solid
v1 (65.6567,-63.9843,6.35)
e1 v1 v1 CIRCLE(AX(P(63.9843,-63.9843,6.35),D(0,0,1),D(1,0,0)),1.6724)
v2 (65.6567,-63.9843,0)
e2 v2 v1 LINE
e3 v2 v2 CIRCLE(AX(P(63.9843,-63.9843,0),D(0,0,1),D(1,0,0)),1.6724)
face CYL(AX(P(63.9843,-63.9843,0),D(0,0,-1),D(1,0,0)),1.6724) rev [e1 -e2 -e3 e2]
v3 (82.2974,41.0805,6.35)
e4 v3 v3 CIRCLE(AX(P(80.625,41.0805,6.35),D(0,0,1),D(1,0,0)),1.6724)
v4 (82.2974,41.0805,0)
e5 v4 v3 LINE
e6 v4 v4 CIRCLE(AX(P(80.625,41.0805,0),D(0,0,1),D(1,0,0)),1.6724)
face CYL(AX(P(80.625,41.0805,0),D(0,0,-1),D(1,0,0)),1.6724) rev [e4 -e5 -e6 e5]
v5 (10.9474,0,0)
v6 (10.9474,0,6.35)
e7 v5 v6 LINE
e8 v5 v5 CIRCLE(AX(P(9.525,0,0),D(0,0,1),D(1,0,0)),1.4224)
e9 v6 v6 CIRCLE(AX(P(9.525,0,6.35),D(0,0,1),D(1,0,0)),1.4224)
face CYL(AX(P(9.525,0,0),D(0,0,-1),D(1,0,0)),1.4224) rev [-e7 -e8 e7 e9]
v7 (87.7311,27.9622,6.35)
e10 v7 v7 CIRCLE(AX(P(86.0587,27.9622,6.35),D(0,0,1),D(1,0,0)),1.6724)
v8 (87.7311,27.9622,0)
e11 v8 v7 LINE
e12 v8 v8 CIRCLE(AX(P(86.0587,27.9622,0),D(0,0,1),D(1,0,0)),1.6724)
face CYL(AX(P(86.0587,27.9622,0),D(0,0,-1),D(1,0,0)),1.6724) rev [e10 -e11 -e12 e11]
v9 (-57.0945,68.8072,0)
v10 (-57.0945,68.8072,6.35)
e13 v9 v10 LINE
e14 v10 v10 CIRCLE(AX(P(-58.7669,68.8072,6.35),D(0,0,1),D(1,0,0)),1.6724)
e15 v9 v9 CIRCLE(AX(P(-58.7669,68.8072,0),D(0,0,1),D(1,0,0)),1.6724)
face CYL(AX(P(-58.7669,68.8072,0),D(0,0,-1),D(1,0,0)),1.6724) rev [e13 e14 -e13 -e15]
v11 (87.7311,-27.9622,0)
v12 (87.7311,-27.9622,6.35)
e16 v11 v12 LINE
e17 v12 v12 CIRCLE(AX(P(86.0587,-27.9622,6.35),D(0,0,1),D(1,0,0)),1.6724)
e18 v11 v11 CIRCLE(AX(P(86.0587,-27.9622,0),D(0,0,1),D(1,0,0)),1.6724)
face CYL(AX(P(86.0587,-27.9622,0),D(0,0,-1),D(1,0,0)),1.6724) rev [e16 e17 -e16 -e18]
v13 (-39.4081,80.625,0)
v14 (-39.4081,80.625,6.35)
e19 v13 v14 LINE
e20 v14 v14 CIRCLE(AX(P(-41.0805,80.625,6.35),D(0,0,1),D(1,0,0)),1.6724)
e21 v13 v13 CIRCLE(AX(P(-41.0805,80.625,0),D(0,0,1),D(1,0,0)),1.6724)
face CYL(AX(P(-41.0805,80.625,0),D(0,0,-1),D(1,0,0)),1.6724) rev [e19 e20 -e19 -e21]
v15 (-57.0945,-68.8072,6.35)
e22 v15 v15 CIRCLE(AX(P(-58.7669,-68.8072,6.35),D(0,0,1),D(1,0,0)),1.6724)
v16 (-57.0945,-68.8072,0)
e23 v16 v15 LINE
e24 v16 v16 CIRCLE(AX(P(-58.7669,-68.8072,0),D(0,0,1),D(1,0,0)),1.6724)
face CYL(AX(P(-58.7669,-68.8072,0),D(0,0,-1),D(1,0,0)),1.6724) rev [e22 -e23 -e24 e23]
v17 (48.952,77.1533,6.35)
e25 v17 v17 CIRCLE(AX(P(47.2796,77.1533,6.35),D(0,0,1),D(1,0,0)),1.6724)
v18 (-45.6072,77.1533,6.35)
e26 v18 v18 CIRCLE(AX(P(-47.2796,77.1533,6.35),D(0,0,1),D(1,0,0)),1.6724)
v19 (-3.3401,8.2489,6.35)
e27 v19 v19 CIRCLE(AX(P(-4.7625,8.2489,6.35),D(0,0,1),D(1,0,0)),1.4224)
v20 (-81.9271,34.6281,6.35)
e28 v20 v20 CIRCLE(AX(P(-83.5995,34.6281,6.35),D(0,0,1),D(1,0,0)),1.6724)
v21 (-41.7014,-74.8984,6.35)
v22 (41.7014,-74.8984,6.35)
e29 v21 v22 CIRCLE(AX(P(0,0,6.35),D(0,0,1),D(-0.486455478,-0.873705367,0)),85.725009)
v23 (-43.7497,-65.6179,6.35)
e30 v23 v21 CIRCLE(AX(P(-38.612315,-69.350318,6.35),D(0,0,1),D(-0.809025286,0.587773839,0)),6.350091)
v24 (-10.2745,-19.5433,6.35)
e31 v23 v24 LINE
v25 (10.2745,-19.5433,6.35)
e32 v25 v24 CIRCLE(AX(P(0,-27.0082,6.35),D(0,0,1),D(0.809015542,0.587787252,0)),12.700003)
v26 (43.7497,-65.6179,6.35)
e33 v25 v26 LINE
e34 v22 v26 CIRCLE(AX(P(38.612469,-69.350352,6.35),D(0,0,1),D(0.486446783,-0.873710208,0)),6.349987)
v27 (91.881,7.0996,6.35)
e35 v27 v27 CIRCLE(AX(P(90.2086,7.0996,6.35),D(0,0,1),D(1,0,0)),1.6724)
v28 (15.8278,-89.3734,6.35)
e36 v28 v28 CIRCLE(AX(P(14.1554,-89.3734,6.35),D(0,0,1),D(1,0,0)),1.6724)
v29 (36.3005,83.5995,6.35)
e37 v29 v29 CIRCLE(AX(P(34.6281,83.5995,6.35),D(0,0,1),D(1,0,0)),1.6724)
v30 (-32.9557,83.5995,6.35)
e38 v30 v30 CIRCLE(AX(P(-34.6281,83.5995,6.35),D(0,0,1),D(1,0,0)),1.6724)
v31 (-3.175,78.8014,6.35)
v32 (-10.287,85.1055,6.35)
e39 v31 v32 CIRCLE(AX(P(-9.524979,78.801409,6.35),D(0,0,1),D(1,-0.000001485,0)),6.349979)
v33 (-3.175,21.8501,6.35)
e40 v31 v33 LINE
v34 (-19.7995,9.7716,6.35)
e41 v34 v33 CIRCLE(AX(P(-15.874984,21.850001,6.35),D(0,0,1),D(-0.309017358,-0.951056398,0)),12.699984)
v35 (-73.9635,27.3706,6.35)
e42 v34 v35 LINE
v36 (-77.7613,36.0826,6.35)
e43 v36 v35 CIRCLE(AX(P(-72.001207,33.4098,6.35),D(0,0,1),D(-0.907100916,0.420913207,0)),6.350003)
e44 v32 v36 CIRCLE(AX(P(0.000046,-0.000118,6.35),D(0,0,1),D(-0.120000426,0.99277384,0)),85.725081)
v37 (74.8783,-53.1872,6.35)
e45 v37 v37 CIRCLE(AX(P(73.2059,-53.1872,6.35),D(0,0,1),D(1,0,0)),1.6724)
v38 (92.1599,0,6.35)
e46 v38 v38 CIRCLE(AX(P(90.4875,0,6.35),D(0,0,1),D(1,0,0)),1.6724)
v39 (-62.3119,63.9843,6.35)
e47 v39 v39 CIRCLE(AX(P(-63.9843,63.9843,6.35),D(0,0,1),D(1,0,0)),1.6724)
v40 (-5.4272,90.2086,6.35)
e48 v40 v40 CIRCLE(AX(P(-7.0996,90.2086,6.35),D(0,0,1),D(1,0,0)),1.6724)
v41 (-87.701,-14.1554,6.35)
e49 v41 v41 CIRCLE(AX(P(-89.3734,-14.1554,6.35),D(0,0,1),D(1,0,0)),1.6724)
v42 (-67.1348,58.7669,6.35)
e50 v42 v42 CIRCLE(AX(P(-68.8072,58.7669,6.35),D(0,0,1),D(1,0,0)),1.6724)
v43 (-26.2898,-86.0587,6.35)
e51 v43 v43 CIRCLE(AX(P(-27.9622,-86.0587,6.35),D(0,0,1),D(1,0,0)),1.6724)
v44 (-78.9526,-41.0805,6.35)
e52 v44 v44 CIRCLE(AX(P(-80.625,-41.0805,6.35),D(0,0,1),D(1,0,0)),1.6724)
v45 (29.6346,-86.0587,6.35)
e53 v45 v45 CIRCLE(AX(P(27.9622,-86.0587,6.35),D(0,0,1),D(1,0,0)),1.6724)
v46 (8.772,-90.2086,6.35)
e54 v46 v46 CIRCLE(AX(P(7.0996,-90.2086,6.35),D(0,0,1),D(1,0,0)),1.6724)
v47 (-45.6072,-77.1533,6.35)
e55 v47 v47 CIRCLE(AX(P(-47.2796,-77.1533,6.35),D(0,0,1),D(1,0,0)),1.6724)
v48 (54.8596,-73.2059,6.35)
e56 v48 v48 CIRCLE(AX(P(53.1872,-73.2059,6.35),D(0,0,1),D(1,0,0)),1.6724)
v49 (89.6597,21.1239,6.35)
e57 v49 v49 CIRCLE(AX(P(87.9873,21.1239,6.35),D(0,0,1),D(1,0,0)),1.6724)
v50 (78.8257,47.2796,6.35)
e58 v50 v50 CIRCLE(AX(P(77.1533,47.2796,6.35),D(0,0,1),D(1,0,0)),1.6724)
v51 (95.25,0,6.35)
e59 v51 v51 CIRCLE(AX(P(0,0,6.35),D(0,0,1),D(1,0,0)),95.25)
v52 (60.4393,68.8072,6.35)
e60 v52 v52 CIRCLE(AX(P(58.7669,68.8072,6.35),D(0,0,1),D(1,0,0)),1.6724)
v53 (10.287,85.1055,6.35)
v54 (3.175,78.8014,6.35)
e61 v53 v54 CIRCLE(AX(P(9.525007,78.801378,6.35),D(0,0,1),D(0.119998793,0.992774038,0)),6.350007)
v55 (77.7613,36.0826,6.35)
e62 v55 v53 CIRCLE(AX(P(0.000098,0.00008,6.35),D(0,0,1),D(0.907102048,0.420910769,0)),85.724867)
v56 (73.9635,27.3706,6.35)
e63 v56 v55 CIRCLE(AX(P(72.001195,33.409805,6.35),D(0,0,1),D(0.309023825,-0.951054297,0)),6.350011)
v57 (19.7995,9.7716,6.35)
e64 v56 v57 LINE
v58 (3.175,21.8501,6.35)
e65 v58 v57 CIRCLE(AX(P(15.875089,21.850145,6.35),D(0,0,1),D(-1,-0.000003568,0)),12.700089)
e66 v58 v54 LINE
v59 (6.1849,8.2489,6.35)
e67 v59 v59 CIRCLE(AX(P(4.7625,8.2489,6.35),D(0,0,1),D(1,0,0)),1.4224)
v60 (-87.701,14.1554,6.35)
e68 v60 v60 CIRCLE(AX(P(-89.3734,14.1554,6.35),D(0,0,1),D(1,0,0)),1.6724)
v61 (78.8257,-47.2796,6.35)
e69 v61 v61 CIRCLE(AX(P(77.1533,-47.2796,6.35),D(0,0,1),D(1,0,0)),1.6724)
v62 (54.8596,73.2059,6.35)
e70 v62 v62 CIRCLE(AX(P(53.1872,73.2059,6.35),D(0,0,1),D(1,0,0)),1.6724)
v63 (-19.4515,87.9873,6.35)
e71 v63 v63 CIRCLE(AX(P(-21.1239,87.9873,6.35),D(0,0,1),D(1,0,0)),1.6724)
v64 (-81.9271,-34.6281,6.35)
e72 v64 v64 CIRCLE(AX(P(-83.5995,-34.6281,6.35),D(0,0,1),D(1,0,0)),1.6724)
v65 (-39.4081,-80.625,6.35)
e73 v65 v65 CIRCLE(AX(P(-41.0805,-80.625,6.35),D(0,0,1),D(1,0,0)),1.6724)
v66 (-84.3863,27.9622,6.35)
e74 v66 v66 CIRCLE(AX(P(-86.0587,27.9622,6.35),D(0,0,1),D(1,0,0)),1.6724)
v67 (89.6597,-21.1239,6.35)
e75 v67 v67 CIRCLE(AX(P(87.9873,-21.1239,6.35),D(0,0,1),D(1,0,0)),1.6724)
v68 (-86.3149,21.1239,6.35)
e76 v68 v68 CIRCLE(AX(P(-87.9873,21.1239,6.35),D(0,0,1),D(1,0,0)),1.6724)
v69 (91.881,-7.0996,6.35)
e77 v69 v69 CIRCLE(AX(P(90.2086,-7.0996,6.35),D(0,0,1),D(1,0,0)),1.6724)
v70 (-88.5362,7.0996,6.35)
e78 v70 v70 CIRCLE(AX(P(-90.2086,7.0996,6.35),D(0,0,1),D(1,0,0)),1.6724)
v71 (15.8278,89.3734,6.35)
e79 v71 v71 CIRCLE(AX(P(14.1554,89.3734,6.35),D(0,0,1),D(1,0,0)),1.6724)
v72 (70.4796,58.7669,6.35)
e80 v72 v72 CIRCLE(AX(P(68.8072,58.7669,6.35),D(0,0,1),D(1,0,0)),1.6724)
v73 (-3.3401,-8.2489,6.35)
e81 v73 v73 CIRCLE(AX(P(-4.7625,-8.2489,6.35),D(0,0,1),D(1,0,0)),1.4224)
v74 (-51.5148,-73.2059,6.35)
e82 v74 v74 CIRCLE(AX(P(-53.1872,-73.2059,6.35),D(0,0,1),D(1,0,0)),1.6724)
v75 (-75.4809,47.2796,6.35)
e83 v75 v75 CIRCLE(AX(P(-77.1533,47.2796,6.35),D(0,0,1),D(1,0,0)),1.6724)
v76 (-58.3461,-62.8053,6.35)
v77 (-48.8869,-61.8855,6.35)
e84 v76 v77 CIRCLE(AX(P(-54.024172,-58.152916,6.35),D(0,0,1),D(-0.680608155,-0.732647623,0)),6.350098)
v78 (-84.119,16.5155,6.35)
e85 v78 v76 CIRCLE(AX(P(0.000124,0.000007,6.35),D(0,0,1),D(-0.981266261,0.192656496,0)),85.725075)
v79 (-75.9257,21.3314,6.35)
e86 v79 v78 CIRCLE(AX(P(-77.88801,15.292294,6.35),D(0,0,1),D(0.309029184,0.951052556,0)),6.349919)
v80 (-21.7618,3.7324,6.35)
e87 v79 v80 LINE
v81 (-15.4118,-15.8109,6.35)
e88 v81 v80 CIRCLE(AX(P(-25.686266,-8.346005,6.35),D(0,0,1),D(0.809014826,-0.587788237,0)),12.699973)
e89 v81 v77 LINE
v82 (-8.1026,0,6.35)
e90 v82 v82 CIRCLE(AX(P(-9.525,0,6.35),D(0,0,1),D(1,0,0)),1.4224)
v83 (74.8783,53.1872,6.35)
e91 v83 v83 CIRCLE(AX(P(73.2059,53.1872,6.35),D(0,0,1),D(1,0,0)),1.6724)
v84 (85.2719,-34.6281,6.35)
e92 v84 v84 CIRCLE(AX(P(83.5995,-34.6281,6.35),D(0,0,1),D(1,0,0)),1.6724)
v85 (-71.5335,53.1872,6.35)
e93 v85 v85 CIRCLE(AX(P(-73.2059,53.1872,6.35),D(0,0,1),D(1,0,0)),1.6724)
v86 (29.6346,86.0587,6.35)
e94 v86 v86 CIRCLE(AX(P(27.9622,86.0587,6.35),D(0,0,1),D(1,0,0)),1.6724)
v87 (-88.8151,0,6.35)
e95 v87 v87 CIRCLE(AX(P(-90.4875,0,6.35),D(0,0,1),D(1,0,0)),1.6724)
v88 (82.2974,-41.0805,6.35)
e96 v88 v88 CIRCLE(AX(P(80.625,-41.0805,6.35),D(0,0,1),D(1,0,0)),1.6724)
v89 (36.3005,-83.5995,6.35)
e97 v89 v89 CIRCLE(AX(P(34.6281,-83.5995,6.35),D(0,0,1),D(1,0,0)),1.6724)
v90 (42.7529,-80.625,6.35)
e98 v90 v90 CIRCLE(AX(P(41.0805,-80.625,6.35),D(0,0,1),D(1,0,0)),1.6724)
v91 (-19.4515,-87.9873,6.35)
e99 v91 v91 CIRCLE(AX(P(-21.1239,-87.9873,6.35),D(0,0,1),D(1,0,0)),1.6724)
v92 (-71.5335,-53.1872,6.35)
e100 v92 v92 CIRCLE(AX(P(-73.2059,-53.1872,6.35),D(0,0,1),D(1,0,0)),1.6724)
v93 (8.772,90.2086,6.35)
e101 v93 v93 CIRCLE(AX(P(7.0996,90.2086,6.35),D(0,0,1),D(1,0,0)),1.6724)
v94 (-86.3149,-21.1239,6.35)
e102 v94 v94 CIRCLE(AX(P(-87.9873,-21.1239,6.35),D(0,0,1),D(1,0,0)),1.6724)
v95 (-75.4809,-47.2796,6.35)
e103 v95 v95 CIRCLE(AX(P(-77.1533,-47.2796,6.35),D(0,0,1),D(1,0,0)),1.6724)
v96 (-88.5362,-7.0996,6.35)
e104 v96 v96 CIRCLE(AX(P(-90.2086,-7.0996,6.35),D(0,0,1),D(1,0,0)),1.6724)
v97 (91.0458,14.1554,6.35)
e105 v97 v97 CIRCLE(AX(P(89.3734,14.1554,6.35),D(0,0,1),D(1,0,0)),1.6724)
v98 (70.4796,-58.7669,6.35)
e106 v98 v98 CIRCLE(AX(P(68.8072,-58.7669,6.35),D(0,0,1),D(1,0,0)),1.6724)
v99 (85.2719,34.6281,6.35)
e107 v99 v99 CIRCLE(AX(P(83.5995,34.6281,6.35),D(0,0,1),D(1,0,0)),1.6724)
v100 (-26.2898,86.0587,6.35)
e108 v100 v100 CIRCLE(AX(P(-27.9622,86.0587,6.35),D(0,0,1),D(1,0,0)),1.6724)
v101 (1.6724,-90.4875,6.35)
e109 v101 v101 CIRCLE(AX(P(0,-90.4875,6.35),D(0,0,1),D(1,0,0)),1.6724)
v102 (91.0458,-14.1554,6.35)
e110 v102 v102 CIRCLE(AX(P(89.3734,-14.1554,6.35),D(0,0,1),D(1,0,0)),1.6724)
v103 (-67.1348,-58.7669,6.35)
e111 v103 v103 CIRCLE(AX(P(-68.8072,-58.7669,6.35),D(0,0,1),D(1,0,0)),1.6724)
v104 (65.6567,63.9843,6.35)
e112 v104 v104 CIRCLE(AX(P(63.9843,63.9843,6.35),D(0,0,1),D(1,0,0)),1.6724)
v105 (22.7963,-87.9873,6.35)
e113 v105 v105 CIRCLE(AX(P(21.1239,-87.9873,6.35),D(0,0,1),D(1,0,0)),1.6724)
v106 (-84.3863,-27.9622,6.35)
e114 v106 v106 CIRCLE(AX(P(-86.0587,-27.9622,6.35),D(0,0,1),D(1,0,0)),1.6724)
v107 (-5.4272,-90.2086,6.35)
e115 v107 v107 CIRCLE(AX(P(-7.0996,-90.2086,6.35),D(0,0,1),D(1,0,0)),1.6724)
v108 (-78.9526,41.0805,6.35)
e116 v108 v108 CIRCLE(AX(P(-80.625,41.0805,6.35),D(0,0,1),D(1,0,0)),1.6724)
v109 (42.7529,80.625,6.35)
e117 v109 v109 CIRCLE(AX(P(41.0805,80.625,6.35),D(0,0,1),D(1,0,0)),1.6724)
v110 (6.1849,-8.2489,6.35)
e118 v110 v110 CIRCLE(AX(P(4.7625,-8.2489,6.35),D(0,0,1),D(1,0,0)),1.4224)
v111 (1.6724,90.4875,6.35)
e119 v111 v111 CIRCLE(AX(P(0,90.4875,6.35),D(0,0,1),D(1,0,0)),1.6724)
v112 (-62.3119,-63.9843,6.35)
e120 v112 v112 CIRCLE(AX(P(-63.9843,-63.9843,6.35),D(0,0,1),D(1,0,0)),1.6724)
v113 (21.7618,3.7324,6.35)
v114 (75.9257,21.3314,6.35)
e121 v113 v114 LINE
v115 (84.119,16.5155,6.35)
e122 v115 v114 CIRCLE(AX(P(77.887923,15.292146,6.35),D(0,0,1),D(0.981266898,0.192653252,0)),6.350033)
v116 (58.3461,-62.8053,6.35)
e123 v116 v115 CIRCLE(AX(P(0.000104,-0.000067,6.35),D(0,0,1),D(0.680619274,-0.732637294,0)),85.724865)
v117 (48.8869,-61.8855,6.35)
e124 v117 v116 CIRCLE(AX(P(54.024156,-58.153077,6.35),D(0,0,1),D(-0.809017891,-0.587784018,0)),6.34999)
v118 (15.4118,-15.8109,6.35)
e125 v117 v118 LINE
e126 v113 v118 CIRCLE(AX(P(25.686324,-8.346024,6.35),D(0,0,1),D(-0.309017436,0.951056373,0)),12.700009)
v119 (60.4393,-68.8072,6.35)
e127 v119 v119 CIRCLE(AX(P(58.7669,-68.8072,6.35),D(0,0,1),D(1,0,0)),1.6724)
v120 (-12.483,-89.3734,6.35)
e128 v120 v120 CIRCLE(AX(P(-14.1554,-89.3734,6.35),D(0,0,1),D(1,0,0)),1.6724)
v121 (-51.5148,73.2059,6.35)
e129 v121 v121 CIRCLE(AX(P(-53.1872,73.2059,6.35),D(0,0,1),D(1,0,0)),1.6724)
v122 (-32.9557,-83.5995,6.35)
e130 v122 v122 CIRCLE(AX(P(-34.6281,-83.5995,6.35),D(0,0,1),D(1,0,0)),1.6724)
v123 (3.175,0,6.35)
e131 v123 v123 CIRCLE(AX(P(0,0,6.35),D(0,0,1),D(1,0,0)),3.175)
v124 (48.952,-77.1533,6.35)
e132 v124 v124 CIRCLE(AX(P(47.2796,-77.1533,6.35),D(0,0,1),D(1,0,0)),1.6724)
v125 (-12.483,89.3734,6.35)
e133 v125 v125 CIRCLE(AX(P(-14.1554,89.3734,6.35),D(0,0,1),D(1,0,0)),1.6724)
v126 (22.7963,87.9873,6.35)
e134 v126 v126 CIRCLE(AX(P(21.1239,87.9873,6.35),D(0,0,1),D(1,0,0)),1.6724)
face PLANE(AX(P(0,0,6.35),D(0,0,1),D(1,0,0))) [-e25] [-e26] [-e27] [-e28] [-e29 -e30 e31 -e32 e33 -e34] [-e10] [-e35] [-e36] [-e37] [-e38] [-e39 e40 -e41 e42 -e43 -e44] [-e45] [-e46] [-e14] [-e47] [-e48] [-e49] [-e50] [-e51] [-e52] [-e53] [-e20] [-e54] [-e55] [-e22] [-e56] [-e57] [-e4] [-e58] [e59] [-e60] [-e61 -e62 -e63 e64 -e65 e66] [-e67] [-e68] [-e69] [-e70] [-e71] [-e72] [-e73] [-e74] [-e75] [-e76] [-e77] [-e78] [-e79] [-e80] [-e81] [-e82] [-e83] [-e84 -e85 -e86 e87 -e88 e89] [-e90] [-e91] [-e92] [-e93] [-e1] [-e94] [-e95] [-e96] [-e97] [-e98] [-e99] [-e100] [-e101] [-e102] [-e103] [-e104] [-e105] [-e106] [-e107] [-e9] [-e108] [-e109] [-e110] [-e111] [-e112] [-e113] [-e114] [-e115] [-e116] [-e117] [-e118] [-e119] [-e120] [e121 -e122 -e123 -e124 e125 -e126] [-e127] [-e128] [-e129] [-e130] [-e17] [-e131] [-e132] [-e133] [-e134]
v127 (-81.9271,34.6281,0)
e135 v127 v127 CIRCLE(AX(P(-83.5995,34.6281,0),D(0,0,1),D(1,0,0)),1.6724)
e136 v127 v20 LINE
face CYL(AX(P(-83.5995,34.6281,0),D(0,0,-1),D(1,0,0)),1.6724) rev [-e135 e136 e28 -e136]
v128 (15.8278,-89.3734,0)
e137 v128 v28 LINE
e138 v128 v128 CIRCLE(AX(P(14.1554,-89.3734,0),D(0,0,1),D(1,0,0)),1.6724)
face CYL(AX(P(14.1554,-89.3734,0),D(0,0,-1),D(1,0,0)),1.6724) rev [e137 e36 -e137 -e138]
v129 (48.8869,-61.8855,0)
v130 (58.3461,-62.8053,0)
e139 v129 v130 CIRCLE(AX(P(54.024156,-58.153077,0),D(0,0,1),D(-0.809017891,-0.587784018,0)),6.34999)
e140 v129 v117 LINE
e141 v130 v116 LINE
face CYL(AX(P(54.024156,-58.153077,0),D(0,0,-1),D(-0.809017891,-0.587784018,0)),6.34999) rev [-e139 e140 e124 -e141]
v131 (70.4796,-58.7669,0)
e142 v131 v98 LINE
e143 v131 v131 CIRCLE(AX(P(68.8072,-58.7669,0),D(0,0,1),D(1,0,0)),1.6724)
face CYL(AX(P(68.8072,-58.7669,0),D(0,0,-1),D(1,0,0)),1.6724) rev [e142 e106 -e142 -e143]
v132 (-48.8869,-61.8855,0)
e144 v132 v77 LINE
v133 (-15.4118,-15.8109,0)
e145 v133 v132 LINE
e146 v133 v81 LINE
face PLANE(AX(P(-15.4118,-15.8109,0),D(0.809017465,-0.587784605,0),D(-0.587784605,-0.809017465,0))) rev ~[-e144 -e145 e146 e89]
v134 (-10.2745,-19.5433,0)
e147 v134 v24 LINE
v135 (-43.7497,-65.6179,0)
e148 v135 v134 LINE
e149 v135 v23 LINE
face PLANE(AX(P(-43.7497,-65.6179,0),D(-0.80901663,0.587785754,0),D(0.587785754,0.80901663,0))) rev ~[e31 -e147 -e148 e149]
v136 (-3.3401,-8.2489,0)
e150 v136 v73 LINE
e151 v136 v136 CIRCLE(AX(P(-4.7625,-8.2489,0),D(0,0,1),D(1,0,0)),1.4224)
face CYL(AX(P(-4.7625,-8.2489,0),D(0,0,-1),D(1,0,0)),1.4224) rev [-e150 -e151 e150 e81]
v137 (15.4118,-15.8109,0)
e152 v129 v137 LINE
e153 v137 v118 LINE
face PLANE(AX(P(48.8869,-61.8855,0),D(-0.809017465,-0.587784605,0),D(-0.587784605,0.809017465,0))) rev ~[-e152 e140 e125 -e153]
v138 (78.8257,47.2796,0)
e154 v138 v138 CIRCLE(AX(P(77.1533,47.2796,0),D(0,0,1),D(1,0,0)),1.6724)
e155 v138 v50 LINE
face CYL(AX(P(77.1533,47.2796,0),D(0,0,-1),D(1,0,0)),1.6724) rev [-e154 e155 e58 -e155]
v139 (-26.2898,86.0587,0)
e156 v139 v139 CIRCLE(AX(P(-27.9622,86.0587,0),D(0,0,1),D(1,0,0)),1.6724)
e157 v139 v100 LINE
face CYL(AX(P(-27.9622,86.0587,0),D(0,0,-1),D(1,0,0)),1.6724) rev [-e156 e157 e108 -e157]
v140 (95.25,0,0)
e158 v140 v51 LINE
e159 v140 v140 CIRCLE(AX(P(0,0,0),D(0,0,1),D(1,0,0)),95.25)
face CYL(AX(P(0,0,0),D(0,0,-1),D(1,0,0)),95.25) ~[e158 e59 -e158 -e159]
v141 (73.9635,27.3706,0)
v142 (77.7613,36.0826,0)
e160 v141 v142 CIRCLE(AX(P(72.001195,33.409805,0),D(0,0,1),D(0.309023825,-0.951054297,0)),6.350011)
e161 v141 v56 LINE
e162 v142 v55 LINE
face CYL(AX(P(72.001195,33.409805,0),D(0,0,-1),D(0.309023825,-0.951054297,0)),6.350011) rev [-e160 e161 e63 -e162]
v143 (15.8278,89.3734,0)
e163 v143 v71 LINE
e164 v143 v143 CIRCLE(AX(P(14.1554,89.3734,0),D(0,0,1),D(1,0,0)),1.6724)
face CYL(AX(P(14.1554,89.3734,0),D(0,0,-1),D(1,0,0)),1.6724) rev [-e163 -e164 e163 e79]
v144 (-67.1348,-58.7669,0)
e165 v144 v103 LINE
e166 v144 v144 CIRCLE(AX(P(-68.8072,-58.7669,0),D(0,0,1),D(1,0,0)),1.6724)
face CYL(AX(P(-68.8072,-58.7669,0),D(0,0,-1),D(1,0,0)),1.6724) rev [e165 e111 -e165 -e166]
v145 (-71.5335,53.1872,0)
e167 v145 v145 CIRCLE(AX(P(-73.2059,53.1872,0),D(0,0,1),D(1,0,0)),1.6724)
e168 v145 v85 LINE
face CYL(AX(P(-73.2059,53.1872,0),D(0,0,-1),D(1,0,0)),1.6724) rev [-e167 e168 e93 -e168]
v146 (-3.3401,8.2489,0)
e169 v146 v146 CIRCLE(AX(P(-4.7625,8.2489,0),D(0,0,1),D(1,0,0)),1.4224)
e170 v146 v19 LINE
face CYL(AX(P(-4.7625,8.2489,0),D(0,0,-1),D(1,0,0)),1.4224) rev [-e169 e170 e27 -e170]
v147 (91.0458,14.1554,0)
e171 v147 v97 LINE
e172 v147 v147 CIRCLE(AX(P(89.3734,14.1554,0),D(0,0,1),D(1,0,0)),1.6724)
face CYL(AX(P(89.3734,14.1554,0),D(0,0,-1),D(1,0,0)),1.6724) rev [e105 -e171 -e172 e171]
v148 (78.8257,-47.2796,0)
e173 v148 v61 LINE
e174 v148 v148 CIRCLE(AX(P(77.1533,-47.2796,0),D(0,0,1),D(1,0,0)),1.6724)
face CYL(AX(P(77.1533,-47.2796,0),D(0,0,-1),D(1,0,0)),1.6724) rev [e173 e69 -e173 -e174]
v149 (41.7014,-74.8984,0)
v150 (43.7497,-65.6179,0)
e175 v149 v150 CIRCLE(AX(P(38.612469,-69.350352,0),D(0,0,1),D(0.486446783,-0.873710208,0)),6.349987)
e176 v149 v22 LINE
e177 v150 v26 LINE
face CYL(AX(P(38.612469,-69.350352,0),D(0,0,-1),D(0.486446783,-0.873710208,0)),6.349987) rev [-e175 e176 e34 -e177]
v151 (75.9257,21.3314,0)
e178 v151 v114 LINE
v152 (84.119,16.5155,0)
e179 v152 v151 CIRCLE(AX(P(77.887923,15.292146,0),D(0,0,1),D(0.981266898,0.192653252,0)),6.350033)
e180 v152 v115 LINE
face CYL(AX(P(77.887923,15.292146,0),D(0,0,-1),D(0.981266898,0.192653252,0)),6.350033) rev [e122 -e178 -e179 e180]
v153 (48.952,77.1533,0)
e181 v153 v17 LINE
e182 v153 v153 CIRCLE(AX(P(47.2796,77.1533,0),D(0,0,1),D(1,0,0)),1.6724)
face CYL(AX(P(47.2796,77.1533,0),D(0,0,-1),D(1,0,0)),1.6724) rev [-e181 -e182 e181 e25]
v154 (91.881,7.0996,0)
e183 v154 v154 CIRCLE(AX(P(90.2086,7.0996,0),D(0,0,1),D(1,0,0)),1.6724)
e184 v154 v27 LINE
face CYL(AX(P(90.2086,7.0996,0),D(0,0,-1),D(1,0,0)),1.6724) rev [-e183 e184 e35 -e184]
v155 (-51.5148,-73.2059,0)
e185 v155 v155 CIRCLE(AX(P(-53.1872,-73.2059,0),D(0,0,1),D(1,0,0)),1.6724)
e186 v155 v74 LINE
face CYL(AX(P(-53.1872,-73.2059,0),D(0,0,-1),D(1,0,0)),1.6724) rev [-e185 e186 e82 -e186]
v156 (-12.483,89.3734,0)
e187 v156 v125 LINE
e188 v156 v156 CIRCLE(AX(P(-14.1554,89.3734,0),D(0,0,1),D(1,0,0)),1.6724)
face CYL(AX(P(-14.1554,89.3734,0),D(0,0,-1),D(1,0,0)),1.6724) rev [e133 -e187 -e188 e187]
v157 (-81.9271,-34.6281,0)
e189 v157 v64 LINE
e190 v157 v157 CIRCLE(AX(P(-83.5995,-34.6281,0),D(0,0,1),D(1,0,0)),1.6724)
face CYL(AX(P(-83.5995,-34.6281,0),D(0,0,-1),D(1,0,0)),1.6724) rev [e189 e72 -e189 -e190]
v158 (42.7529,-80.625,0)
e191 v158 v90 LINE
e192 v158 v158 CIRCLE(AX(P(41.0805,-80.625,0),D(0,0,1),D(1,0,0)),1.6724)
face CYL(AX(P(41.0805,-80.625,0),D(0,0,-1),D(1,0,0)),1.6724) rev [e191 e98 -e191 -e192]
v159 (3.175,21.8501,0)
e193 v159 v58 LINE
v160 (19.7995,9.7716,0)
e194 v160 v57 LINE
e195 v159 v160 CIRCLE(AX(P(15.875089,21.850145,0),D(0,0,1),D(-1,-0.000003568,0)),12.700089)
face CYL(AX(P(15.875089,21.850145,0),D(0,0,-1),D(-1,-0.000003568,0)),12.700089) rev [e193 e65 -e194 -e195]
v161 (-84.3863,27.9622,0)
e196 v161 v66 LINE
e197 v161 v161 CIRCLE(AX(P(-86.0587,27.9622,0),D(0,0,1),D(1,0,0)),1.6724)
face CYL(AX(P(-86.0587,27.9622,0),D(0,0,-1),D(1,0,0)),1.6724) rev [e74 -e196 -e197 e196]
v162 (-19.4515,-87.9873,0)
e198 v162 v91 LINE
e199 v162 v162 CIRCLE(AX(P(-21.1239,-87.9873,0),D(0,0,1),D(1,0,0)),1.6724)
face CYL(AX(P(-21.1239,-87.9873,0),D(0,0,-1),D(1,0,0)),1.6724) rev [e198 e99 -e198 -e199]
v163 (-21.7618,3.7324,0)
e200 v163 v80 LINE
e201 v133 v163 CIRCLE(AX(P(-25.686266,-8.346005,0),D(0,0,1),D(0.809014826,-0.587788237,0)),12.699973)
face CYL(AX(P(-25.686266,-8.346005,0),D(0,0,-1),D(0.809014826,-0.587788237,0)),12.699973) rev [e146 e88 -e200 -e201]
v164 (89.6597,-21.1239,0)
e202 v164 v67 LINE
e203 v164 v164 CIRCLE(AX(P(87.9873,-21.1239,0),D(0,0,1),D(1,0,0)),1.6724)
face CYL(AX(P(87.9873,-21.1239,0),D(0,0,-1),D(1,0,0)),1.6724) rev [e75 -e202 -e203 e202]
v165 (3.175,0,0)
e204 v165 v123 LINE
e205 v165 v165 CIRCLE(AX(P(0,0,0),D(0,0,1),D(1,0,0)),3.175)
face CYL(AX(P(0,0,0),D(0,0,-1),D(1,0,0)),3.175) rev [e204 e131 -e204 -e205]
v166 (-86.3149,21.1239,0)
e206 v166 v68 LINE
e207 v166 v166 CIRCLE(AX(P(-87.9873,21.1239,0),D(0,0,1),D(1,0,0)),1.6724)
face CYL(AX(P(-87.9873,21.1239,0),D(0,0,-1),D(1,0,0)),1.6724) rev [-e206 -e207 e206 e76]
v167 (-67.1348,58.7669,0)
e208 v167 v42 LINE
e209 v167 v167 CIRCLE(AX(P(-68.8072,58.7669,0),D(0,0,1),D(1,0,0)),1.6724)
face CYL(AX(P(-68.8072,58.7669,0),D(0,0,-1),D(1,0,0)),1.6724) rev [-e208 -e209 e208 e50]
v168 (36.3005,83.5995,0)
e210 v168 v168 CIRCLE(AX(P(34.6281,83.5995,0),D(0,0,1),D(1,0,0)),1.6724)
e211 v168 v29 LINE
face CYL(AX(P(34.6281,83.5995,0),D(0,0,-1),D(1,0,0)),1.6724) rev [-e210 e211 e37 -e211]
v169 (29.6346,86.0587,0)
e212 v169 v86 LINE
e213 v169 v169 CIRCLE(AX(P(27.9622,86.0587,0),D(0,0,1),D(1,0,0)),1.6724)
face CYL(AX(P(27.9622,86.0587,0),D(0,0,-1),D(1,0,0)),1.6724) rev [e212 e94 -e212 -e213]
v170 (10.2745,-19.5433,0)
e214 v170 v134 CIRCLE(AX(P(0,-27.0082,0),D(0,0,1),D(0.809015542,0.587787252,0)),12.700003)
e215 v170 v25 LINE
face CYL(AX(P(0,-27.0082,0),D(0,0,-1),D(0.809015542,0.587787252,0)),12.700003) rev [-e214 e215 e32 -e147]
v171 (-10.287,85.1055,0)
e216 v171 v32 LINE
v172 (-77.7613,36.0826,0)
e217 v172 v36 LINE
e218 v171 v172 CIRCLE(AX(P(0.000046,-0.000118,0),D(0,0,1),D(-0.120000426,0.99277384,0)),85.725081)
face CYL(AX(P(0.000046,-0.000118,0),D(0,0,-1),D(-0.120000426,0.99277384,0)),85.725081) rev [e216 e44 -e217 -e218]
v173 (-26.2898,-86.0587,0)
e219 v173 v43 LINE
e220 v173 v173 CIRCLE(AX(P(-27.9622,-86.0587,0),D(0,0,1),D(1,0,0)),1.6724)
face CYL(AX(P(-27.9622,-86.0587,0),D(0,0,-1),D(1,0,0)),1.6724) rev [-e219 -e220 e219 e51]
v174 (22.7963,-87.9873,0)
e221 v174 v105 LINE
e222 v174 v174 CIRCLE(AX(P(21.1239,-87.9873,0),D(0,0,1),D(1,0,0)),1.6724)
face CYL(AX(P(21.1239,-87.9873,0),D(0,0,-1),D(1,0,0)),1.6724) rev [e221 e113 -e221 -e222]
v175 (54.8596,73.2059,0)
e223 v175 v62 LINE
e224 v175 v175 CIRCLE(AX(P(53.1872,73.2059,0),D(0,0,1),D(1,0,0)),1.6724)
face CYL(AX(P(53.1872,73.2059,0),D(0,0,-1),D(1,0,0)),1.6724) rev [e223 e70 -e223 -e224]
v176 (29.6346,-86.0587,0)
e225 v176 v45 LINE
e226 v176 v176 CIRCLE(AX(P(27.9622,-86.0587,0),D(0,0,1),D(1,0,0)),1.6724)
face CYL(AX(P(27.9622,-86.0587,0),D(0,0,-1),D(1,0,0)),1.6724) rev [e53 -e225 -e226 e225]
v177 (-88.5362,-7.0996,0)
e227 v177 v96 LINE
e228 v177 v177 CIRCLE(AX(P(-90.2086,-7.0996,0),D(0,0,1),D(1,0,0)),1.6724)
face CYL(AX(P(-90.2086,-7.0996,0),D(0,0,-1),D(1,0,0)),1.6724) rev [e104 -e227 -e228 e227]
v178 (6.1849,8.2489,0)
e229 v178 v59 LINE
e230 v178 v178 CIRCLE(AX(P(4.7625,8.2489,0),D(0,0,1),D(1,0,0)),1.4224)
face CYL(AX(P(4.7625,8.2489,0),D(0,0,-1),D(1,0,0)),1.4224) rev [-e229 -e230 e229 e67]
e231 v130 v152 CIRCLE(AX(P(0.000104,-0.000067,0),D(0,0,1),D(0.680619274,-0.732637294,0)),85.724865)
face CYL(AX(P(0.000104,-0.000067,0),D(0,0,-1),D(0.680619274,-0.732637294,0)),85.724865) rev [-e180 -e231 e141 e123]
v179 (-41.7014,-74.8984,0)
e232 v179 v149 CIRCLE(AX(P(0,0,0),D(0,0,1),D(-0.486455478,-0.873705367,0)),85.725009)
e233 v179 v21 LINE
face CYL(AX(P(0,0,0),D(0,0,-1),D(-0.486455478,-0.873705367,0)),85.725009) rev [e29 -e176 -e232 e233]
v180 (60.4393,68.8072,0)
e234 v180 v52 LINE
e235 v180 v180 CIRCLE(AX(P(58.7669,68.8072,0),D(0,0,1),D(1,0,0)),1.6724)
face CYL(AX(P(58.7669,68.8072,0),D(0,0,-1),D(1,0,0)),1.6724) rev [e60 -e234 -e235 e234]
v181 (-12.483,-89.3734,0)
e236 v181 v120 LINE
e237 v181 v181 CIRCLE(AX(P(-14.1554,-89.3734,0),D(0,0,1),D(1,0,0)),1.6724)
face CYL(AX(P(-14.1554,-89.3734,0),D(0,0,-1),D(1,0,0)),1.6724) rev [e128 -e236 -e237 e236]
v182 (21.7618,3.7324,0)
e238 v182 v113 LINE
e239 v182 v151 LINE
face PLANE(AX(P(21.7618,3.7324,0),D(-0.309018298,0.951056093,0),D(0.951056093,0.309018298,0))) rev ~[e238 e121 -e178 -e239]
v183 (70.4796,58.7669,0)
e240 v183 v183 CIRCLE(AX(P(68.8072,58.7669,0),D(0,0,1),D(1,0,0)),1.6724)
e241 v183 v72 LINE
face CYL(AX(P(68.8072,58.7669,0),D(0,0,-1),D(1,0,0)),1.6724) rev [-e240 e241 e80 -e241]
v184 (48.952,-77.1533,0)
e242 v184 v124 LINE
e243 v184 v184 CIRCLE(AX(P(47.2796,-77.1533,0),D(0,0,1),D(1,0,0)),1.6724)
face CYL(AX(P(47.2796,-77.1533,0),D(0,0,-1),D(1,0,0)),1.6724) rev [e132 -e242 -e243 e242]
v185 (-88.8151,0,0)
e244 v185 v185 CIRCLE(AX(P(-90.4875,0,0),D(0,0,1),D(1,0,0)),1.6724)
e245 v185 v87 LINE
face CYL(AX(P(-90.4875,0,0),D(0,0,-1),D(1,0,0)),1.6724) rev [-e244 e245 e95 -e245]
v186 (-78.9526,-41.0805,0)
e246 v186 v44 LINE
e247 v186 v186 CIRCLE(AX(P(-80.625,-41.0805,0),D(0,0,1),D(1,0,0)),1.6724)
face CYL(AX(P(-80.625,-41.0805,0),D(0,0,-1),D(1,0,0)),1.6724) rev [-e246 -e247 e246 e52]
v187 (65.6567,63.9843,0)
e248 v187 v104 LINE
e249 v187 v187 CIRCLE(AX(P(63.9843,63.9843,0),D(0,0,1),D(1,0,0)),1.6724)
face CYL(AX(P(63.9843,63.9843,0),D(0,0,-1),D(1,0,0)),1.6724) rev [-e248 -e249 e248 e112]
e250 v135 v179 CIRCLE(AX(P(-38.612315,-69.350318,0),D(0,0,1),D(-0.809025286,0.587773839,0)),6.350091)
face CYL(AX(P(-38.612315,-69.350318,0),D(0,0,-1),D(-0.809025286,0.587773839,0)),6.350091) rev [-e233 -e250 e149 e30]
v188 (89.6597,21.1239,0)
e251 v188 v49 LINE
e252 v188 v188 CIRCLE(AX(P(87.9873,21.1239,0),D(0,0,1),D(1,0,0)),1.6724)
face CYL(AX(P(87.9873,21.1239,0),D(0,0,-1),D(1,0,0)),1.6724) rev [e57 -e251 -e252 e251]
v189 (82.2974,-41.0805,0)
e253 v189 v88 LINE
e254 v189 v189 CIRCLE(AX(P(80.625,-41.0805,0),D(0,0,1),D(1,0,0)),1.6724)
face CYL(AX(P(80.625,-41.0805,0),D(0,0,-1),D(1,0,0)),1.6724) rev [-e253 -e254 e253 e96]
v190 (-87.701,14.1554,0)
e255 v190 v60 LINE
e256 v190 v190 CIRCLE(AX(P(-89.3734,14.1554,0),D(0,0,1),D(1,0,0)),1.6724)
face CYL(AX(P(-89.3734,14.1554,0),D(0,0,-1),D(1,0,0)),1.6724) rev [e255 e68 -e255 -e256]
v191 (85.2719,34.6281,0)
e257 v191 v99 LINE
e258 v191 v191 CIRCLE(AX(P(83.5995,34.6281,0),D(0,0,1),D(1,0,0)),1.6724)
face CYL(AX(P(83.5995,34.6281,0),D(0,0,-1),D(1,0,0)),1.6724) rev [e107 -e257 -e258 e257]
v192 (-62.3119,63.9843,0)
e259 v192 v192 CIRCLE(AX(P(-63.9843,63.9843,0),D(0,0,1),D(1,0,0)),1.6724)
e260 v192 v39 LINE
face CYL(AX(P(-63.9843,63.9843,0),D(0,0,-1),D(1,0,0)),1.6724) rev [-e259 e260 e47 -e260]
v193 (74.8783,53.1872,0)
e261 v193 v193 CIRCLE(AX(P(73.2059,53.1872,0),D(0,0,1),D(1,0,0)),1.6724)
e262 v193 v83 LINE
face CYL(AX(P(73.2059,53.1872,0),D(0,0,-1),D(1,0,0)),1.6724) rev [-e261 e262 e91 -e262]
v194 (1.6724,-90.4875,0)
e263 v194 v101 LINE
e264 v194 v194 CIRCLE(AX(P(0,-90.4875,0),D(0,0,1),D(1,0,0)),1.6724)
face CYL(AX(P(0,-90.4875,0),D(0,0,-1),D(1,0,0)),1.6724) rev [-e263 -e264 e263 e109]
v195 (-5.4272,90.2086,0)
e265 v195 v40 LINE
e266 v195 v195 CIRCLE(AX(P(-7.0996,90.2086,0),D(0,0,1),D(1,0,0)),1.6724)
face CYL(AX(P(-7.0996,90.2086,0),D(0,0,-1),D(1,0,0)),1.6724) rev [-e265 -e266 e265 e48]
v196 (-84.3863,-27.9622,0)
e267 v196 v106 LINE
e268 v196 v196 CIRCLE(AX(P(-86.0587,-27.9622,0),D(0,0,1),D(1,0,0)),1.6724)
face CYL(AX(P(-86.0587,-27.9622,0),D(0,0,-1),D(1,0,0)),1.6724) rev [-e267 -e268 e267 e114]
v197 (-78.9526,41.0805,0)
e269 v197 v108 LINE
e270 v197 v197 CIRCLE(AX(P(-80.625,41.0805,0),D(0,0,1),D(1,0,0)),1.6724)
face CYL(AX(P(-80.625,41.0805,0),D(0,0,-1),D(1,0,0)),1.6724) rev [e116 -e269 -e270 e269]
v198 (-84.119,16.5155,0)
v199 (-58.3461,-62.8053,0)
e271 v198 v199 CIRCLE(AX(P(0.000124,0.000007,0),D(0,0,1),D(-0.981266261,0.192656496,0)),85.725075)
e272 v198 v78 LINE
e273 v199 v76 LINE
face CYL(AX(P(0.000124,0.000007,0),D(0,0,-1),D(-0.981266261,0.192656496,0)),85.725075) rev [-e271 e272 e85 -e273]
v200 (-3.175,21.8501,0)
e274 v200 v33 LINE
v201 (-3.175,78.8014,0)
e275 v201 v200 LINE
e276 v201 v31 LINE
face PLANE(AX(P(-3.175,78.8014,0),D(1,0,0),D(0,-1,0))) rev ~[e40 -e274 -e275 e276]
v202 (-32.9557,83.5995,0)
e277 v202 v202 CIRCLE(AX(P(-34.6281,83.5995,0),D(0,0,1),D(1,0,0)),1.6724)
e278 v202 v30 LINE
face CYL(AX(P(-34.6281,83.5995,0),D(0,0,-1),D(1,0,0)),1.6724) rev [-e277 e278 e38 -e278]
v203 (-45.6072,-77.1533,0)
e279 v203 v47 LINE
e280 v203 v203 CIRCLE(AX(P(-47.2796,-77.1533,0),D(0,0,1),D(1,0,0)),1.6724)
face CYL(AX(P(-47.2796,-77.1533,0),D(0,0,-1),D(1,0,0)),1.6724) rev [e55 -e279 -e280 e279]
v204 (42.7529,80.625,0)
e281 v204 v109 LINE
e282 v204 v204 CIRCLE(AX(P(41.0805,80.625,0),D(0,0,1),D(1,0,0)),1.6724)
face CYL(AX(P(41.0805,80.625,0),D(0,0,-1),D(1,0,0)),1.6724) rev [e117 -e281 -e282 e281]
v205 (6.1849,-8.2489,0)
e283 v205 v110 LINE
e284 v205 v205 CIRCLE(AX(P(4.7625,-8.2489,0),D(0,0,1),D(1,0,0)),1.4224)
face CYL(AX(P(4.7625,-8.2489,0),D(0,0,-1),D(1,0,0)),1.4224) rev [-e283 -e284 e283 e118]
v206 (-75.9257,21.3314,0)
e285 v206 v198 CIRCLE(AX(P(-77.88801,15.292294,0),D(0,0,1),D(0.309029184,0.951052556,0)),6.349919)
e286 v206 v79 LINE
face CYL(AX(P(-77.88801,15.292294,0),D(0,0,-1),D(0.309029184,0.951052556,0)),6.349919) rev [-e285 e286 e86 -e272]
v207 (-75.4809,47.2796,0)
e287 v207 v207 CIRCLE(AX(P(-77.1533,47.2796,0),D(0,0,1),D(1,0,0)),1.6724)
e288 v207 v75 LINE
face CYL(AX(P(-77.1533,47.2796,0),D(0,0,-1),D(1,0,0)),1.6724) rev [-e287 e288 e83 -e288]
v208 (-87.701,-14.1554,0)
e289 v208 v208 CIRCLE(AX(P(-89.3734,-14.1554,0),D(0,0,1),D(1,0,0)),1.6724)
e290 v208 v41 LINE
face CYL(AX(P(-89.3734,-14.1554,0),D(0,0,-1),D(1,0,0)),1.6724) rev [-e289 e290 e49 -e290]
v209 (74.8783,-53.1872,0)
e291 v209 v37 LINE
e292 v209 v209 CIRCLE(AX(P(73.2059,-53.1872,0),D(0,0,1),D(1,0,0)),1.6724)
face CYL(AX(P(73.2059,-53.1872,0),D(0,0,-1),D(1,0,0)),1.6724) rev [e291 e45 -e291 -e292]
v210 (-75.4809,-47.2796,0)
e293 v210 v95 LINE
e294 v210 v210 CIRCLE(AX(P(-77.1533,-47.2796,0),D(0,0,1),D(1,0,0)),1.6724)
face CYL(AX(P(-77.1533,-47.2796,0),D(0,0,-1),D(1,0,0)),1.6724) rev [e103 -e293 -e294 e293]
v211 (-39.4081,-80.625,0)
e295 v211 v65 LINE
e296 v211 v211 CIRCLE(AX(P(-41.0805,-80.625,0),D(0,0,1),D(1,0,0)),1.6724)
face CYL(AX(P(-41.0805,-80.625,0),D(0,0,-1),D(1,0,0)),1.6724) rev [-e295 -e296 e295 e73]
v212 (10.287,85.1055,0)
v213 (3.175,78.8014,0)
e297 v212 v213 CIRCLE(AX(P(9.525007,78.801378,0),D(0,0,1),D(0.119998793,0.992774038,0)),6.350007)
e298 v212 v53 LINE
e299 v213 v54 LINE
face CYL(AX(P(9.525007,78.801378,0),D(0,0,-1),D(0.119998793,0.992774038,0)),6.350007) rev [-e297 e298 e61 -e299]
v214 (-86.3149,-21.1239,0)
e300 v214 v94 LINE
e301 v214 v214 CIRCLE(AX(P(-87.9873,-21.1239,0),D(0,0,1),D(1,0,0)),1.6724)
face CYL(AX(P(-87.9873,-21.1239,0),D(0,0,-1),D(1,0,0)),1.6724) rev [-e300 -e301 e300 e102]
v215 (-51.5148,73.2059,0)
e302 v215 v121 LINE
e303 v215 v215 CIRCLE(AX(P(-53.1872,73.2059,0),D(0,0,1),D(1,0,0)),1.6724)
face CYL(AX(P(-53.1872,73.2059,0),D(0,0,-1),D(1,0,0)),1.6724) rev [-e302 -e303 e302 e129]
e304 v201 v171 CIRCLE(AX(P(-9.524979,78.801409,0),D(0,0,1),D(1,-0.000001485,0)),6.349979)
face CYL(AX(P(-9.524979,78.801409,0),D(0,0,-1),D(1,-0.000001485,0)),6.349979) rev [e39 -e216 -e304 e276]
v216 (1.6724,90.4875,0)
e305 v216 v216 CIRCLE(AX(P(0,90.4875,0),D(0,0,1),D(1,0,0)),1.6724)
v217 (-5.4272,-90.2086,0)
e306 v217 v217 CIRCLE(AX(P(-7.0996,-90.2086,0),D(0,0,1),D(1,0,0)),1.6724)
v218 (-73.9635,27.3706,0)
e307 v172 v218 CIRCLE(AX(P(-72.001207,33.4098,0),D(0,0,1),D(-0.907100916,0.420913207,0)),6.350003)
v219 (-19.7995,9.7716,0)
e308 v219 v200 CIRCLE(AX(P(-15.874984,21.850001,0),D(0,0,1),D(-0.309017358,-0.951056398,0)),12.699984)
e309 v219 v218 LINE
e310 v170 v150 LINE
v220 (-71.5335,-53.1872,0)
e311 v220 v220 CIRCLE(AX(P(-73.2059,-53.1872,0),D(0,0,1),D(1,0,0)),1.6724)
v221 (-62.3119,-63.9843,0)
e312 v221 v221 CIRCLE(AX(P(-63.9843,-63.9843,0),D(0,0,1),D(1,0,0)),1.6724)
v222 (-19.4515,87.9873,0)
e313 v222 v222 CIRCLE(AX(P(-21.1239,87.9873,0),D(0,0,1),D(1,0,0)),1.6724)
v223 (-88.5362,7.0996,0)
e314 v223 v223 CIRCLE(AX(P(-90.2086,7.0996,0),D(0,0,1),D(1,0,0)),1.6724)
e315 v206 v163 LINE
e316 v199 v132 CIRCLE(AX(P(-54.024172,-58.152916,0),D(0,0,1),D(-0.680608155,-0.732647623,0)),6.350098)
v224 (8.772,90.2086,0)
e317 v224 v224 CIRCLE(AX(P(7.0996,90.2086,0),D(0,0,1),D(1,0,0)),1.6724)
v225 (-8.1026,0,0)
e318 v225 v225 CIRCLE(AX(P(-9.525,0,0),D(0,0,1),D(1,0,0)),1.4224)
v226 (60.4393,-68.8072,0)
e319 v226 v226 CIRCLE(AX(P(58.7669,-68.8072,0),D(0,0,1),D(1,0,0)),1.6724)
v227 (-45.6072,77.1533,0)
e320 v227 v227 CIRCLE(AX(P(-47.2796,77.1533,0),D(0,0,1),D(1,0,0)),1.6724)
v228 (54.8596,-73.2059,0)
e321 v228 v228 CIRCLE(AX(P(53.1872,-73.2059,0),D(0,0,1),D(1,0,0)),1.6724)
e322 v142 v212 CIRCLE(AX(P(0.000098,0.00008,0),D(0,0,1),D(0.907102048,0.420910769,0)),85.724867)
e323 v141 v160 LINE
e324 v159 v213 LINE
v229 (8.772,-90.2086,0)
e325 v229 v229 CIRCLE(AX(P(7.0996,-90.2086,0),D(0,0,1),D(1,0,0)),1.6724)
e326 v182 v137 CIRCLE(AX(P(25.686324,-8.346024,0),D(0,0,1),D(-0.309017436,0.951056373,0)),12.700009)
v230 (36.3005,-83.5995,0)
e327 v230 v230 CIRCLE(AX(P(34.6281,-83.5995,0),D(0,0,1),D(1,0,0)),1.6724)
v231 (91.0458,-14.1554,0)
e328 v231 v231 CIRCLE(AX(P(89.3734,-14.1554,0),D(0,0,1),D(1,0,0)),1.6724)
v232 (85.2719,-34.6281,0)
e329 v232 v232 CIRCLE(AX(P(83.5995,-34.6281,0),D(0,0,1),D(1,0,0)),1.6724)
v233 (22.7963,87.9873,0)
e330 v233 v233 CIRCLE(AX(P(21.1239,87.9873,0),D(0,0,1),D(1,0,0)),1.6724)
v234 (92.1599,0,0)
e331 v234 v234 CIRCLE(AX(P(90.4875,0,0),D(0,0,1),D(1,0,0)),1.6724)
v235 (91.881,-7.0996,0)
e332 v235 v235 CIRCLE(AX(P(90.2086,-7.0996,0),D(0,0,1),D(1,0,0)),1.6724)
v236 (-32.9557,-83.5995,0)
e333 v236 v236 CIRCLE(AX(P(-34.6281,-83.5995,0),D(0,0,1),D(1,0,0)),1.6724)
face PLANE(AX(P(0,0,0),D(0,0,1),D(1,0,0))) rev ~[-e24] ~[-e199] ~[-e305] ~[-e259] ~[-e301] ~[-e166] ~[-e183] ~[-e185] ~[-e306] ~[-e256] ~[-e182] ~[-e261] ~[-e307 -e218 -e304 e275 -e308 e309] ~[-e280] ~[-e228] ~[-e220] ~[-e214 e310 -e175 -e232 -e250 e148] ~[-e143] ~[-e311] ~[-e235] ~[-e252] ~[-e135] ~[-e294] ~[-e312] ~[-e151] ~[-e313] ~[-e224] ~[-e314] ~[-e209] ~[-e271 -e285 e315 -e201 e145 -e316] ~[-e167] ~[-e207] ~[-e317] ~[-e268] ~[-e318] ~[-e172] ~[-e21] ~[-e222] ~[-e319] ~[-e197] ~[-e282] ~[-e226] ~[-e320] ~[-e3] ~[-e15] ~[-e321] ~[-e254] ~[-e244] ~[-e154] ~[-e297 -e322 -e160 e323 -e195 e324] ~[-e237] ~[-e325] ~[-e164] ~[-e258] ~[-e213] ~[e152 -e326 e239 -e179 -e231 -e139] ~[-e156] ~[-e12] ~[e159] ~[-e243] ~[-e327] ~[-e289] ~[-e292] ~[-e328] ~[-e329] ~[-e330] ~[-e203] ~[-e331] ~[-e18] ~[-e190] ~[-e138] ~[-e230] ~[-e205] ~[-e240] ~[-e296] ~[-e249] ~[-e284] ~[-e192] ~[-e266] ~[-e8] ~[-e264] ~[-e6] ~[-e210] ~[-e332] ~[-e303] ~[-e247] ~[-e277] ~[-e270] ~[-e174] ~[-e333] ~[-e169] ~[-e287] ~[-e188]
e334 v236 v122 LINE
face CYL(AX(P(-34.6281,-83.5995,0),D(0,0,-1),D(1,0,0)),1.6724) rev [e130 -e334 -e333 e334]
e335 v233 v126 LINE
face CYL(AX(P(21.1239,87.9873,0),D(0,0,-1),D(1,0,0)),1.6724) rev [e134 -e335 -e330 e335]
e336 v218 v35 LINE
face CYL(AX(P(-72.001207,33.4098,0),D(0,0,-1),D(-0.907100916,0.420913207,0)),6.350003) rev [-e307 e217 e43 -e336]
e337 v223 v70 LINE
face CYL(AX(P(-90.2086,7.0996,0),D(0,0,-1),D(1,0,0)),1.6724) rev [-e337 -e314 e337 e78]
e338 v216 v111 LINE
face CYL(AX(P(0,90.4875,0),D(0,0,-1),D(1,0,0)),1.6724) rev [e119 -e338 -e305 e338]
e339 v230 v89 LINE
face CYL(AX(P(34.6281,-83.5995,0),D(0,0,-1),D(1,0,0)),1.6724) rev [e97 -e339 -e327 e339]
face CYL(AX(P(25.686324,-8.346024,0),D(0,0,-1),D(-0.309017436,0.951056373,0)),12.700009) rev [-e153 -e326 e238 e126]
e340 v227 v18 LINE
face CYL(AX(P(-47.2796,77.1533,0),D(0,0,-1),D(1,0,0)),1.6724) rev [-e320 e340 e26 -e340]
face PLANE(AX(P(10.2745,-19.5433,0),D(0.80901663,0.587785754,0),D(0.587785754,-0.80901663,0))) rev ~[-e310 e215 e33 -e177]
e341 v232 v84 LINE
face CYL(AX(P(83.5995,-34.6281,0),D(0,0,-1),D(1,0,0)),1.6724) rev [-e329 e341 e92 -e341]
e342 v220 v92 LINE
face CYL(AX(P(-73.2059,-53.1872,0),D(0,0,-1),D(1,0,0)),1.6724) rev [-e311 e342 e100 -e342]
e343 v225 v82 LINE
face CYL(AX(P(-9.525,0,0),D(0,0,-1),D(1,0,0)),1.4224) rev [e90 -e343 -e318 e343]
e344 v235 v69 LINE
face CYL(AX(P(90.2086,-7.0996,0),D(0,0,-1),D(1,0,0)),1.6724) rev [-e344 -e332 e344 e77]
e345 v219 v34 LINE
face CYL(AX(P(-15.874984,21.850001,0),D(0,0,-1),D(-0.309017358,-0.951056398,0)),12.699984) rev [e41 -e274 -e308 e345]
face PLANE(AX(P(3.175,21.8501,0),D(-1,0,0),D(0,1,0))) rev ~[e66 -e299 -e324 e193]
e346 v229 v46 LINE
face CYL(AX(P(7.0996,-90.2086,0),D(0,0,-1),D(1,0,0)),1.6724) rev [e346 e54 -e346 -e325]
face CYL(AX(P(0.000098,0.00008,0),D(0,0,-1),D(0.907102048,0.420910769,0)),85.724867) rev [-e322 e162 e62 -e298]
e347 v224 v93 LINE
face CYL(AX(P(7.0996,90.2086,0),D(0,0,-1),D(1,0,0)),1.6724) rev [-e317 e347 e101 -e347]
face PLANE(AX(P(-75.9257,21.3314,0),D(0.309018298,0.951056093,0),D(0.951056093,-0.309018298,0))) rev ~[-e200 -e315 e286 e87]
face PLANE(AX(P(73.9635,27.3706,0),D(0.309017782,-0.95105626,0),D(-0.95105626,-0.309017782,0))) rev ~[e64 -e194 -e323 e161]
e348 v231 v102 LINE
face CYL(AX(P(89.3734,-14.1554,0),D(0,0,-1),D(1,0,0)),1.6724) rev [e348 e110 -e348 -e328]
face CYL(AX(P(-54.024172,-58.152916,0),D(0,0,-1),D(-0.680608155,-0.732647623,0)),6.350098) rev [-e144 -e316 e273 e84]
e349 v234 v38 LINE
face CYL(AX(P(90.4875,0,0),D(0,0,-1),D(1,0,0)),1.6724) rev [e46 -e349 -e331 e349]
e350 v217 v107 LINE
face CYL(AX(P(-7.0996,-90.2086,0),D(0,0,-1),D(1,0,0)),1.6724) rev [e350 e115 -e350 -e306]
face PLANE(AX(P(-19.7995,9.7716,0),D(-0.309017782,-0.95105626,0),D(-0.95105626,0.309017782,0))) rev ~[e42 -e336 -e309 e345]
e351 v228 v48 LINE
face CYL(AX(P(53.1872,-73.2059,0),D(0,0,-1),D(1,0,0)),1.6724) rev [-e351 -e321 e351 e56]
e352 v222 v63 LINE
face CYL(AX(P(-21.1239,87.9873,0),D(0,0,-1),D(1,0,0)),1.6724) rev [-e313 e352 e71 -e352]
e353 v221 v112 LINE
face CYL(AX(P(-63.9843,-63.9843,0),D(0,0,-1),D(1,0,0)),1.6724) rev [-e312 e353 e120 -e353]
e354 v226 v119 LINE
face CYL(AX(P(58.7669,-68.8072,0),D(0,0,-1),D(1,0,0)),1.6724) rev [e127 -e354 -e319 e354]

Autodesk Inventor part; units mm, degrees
ref_plane "YZ Plane" through (0, 0, 0) normal (1, 0, 0) x (0, 1, 0)
ref_plane "XZ Plane" through (0, 0, 0) normal (0, 1, 0) x (-1, 0, 0)
ref_plane "XY Plane" through (0, 0, 0) normal (0, 0, 1) x (1, 0, 0)
sketch "Sketch1" plane through (0, 0, 0) normal (0, 0, 1) x (1, 0, 0)
  point P0 (0, 0)
sketch "0" plane through (0, 0, 0) normal (0, 0, 1) x (1, 0, 0)
  line L0 (21.7618, 3.7324) -> (75.9257, 21.3314)
  arc A0 (84.119, 16.5155) -> (75.9257, 21.3314) centre (77.888, 15.2922) ccw
  arc A1 (58.3461, -62.8053) -> (84.119, 16.5155) centre (0, 0) ccw
  arc A2 (48.8869, -61.8855) -> (58.3461, -62.8053) centre (54.0242, -58.153) ccw
  line L1 (48.8869, -61.8855) -> (15.4118, -15.8109)
  arc A3 (21.7618, 3.7324) -> (15.4118, -15.8109) centre (25.6863, -8.346) ccw
  line L2 (10.2745, -19.5433) -> (43.7497, -65.6179)
  arc A4 (41.7014, -74.8984) -> (43.7497, -65.6179) centre (38.6124, -69.3503) ccw
  arc A5 (-41.7014, -74.8984) -> (41.7014, -74.8984) centre (0, 0) ccw
  arc A6 (-43.7497, -65.6179) -> (-41.7014, -74.8984) centre (-38.6124, -69.3503) ccw
  line L3 (-43.7497, -65.6179) -> (-10.2745, -19.5433)
  arc A7 (10.2745, -19.5433) -> (-10.2745, -19.5433) centre (0, -27.0082) ccw
  line L4 (-15.4118, -15.8109) -> (-48.8869, -61.8855)
  arc A8 (-58.3461, -62.8053) -> (-48.8869, -61.8855) centre (-54.0242, -58.153) ccw
  arc A9 (-84.119, 16.5155) -> (-58.3461, -62.8053) centre (0, 0) ccw
  arc A10 (-75.9257, 21.3314) -> (-84.119, 16.5155) centre (-77.888, 15.2922) ccw
  line L5 (-75.9257, 21.3314) -> (-21.7618, 3.7324)
  arc A11 (-15.4118, -15.8109) -> (-21.7618, 3.7324) centre (-25.6863, -8.346) ccw
  line L6 (-19.7995, 9.7716) -> (-73.9635, 27.3706)
  arc A12 (-77.7613, 36.0826) -> (-73.9635, 27.3706) centre (-72.0012, 33.4098) ccw
  arc A13 (-10.287, 85.1055) -> (-77.7613, 36.0826) centre (0, 0) ccw
  arc A14 (-3.175, 78.8014) -> (-10.287, 85.1055) centre (-9.525, 78.8014) ccw
  line L7 (-3.175, 78.8014) -> (-3.175, 21.8501)
  arc A15 (-19.7995, 9.7716) -> (-3.175, 21.8501) centre (-15.875, 21.8501) ccw
  arc A16 (77.7613, 36.0826) -> (10.287, 85.1055) centre (0, 0) ccw
  arc A17 (73.9635, 27.3706) -> (77.7613, 36.0826) centre (72.0012, 33.4098) ccw
  line L8 (73.9635, 27.3706) -> (19.7995, 9.7716)
  arc A18 (3.175, 21.8501) -> (19.7995, 9.7716) centre (15.875, 21.8501) ccw
  line L9 (3.175, 21.8501) -> (3.175, 78.8014)
  arc A19 (10.287, 85.1055) -> (3.175, 78.8014) centre (9.525, 78.8014) ccw
  circle A20 centre (0, 0) radius 3.175
  circle A21 centre (7.0996, 90.2086) radius 1.6724
  circle A22 centre (14.1554, 89.3734) radius 1.6724
  circle A23 centre (21.1239, 87.9873) radius 1.6724
  circle A24 centre (27.9622, 86.0587) radius 1.6724
  circle A25 centre (34.6281, 83.5995) radius 1.6724
  circle A26 centre (41.0805, 80.625) radius 1.6724
  circle A27 centre (47.2796, 77.1533) radius 1.6724
  circle A28 centre (53.1872, 73.2059) radius 1.6724
  circle A29 centre (58.7669, 68.8072) radius 1.6724
  circle A30 centre (63.9843, 63.9843) radius 1.6724
  circle A31 centre (68.8072, 58.7669) radius 1.6724
  circle A32 centre (73.2059, 53.1872) radius 1.6724
  circle A33 centre (77.1533, 47.2796) radius 1.6724
  circle A34 centre (80.625, 41.0805) radius 1.6724
  circle A35 centre (83.5995, 34.6281) radius 1.6724
  circle A36 centre (86.0587, 27.9622) radius 1.6724
  circle A37 centre (87.9873, 21.1239) radius 1.6724
  circle A38 centre (89.3734, 14.1554) radius 1.6724
  circle A39 centre (90.2086, 7.0996) radius 1.6724
  circle A40 centre (90.4875, 0) radius 1.6724
  circle A41 centre (90.2086, -7.0996) radius 1.6724
  circle A42 centre (89.3734, -14.1554) radius 1.6724
  circle A43 centre (87.9873, -21.1239) radius 1.6724
  circle A44 centre (86.0587, -27.9622) radius 1.6724
  circle A45 centre (83.5995, -34.6281) radius 1.6724
  circle A46 centre (80.625, -41.0805) radius 1.6724
  circle A47 centre (77.1533, -47.2796) radius 1.6724
  circle A48 centre (73.2059, -53.1872) radius 1.6724
  circle A49 centre (68.8072, -58.7669) radius 1.6724
  circle A50 centre (63.9843, -63.9843) radius 1.6724
  circle A51 centre (58.7669, -68.8072) radius 1.6724
  circle A52 centre (53.1872, -73.2059) radius 1.6724
  circle A53 centre (47.2796, -77.1533) radius 1.6724
  circle A54 centre (41.0805, -80.625) radius 1.6724
  circle A55 centre (34.6281, -83.5995) radius 1.6724
  circle A56 centre (27.9622, -86.0587) radius 1.6724
  circle A57 centre (21.1239, -87.9873) radius 1.6724
  circle A58 centre (14.1554, -89.3734) radius 1.6724
  circle A59 centre (7.0996, -90.2086) radius 1.6724
  circle A60 centre (0, -90.4875) radius 1.6724
  circle A61 centre (-7.0996, -90.2086) radius 1.6724
  circle A62 centre (-14.1554, -89.3734) radius 1.6724
  circle A63 centre (-21.1239, -87.9873) radius 1.6724
  circle A64 centre (-27.9622, -86.0587) radius 1.6724
  circle A65 centre (-34.6281, -83.5995) radius 1.6724
  circle A66 centre (-41.0805, -80.625) radius 1.6724
  circle A67 centre (-47.2796, -77.1533) radius 1.6724
  circle A68 centre (-53.1872, -73.2059) radius 1.6724
  circle A69 centre (-58.7669, -68.8072) radius 1.6724
  circle A70 centre (-63.9843, -63.9843) radius 1.6724
  circle A71 centre (-68.8072, -58.7669) radius 1.6724
  circle A72 centre (-73.2059, -53.1872) radius 1.6724
  circle A73 centre (-77.1533, -47.2796) radius 1.6724
  circle A74 centre (-80.625, -41.0805) radius 1.6724
  circle A75 centre (-83.5995, -34.6281) radius 1.6724
  circle A76 centre (-86.0587, -27.9622) radius 1.6724
  circle A77 centre (-87.9873, -21.1239) radius 1.6724
  circle A78 centre (-89.3734, -14.1554) radius 1.6724
  circle A79 centre (-90.2086, -7.0996) radius 1.6724
  circle A80 centre (-90.4875, 0) radius 1.6724
  circle A81 centre (-90.2086, 7.0996) radius 1.6724
  circle A82 centre (-89.3734, 14.1554) radius 1.6724
  circle A83 centre (-87.9873, 21.1239) radius 1.6724
  circle A84 centre (-86.0587, 27.9622) radius 1.6724
  circle A85 centre (-83.5995, 34.6281) radius 1.6724
  circle A86 centre (-80.625, 41.0805) radius 1.6724
  circle A87 centre (-77.1533, 47.2796) radius 1.6724
  circle A88 centre (-73.2059, 53.1872) radius 1.6724
  circle A89 centre (-68.8072, 58.7669) radius 1.6724
  circle A90 centre (-63.9843, 63.9843) radius 1.6724
  circle A91 centre (-58.7669, 68.8072) radius 1.6724
  circle A92 centre (-53.1872, 73.2059) radius 1.6724
  circle A93 centre (-47.2796, 77.1533) radius 1.6724
  circle A94 centre (-41.0805, 80.625) radius 1.6724
  circle A95 centre (-34.6281, 83.5995) radius 1.6724
  circle A96 centre (-27.9622, 86.0587) radius 1.6724
  circle A97 centre (-21.1239, 87.9873) radius 1.6724
  circle A98 centre (-14.1554, 89.3734) radius 1.6724
  circle A99 centre (-7.0996, 90.2086) radius 1.6724
  circle A100 centre (0, 90.4875) radius 1.6724
  circle A101 centre (4.7625, -8.2489) radius 1.4224
  circle A102 centre (-4.7625, -8.2489) radius 1.4224
  circle A103 centre (-9.525, 0) radius 1.4224
  circle A104 centre (-4.7625, 8.2489) radius 1.4224
  circle A105 centre (4.7625, 8.2489) radius 1.4224
  circle A106 centre (9.525, 0) radius 1.4224
  circle A107 centre (0, 0) radius 95.25
  point P0 (19.7995, 9.7716)
  point P1 (3.175, 21.8501)
  point P2 (10.287, 85.1055)
  point P3 (-3.175, 78.8014)
  point P4 (-3.175, 21.8501)
  point P5 (-21.7618, 3.7324)
  point P6 (-48.8869, -61.8855)
  point P7 (41.7014, -74.8984)
  point P8 (-41.7014, -74.8984)
  point P9 (15.4118, -15.8109)
  point P10 (75.9257, 21.3314)
  point P11 (58.3461, -62.8053)
extrude "Extrusion1" add sketch "0" along normal blind 6.35
properties part number "spokes" material "Acrylic, Clear"
